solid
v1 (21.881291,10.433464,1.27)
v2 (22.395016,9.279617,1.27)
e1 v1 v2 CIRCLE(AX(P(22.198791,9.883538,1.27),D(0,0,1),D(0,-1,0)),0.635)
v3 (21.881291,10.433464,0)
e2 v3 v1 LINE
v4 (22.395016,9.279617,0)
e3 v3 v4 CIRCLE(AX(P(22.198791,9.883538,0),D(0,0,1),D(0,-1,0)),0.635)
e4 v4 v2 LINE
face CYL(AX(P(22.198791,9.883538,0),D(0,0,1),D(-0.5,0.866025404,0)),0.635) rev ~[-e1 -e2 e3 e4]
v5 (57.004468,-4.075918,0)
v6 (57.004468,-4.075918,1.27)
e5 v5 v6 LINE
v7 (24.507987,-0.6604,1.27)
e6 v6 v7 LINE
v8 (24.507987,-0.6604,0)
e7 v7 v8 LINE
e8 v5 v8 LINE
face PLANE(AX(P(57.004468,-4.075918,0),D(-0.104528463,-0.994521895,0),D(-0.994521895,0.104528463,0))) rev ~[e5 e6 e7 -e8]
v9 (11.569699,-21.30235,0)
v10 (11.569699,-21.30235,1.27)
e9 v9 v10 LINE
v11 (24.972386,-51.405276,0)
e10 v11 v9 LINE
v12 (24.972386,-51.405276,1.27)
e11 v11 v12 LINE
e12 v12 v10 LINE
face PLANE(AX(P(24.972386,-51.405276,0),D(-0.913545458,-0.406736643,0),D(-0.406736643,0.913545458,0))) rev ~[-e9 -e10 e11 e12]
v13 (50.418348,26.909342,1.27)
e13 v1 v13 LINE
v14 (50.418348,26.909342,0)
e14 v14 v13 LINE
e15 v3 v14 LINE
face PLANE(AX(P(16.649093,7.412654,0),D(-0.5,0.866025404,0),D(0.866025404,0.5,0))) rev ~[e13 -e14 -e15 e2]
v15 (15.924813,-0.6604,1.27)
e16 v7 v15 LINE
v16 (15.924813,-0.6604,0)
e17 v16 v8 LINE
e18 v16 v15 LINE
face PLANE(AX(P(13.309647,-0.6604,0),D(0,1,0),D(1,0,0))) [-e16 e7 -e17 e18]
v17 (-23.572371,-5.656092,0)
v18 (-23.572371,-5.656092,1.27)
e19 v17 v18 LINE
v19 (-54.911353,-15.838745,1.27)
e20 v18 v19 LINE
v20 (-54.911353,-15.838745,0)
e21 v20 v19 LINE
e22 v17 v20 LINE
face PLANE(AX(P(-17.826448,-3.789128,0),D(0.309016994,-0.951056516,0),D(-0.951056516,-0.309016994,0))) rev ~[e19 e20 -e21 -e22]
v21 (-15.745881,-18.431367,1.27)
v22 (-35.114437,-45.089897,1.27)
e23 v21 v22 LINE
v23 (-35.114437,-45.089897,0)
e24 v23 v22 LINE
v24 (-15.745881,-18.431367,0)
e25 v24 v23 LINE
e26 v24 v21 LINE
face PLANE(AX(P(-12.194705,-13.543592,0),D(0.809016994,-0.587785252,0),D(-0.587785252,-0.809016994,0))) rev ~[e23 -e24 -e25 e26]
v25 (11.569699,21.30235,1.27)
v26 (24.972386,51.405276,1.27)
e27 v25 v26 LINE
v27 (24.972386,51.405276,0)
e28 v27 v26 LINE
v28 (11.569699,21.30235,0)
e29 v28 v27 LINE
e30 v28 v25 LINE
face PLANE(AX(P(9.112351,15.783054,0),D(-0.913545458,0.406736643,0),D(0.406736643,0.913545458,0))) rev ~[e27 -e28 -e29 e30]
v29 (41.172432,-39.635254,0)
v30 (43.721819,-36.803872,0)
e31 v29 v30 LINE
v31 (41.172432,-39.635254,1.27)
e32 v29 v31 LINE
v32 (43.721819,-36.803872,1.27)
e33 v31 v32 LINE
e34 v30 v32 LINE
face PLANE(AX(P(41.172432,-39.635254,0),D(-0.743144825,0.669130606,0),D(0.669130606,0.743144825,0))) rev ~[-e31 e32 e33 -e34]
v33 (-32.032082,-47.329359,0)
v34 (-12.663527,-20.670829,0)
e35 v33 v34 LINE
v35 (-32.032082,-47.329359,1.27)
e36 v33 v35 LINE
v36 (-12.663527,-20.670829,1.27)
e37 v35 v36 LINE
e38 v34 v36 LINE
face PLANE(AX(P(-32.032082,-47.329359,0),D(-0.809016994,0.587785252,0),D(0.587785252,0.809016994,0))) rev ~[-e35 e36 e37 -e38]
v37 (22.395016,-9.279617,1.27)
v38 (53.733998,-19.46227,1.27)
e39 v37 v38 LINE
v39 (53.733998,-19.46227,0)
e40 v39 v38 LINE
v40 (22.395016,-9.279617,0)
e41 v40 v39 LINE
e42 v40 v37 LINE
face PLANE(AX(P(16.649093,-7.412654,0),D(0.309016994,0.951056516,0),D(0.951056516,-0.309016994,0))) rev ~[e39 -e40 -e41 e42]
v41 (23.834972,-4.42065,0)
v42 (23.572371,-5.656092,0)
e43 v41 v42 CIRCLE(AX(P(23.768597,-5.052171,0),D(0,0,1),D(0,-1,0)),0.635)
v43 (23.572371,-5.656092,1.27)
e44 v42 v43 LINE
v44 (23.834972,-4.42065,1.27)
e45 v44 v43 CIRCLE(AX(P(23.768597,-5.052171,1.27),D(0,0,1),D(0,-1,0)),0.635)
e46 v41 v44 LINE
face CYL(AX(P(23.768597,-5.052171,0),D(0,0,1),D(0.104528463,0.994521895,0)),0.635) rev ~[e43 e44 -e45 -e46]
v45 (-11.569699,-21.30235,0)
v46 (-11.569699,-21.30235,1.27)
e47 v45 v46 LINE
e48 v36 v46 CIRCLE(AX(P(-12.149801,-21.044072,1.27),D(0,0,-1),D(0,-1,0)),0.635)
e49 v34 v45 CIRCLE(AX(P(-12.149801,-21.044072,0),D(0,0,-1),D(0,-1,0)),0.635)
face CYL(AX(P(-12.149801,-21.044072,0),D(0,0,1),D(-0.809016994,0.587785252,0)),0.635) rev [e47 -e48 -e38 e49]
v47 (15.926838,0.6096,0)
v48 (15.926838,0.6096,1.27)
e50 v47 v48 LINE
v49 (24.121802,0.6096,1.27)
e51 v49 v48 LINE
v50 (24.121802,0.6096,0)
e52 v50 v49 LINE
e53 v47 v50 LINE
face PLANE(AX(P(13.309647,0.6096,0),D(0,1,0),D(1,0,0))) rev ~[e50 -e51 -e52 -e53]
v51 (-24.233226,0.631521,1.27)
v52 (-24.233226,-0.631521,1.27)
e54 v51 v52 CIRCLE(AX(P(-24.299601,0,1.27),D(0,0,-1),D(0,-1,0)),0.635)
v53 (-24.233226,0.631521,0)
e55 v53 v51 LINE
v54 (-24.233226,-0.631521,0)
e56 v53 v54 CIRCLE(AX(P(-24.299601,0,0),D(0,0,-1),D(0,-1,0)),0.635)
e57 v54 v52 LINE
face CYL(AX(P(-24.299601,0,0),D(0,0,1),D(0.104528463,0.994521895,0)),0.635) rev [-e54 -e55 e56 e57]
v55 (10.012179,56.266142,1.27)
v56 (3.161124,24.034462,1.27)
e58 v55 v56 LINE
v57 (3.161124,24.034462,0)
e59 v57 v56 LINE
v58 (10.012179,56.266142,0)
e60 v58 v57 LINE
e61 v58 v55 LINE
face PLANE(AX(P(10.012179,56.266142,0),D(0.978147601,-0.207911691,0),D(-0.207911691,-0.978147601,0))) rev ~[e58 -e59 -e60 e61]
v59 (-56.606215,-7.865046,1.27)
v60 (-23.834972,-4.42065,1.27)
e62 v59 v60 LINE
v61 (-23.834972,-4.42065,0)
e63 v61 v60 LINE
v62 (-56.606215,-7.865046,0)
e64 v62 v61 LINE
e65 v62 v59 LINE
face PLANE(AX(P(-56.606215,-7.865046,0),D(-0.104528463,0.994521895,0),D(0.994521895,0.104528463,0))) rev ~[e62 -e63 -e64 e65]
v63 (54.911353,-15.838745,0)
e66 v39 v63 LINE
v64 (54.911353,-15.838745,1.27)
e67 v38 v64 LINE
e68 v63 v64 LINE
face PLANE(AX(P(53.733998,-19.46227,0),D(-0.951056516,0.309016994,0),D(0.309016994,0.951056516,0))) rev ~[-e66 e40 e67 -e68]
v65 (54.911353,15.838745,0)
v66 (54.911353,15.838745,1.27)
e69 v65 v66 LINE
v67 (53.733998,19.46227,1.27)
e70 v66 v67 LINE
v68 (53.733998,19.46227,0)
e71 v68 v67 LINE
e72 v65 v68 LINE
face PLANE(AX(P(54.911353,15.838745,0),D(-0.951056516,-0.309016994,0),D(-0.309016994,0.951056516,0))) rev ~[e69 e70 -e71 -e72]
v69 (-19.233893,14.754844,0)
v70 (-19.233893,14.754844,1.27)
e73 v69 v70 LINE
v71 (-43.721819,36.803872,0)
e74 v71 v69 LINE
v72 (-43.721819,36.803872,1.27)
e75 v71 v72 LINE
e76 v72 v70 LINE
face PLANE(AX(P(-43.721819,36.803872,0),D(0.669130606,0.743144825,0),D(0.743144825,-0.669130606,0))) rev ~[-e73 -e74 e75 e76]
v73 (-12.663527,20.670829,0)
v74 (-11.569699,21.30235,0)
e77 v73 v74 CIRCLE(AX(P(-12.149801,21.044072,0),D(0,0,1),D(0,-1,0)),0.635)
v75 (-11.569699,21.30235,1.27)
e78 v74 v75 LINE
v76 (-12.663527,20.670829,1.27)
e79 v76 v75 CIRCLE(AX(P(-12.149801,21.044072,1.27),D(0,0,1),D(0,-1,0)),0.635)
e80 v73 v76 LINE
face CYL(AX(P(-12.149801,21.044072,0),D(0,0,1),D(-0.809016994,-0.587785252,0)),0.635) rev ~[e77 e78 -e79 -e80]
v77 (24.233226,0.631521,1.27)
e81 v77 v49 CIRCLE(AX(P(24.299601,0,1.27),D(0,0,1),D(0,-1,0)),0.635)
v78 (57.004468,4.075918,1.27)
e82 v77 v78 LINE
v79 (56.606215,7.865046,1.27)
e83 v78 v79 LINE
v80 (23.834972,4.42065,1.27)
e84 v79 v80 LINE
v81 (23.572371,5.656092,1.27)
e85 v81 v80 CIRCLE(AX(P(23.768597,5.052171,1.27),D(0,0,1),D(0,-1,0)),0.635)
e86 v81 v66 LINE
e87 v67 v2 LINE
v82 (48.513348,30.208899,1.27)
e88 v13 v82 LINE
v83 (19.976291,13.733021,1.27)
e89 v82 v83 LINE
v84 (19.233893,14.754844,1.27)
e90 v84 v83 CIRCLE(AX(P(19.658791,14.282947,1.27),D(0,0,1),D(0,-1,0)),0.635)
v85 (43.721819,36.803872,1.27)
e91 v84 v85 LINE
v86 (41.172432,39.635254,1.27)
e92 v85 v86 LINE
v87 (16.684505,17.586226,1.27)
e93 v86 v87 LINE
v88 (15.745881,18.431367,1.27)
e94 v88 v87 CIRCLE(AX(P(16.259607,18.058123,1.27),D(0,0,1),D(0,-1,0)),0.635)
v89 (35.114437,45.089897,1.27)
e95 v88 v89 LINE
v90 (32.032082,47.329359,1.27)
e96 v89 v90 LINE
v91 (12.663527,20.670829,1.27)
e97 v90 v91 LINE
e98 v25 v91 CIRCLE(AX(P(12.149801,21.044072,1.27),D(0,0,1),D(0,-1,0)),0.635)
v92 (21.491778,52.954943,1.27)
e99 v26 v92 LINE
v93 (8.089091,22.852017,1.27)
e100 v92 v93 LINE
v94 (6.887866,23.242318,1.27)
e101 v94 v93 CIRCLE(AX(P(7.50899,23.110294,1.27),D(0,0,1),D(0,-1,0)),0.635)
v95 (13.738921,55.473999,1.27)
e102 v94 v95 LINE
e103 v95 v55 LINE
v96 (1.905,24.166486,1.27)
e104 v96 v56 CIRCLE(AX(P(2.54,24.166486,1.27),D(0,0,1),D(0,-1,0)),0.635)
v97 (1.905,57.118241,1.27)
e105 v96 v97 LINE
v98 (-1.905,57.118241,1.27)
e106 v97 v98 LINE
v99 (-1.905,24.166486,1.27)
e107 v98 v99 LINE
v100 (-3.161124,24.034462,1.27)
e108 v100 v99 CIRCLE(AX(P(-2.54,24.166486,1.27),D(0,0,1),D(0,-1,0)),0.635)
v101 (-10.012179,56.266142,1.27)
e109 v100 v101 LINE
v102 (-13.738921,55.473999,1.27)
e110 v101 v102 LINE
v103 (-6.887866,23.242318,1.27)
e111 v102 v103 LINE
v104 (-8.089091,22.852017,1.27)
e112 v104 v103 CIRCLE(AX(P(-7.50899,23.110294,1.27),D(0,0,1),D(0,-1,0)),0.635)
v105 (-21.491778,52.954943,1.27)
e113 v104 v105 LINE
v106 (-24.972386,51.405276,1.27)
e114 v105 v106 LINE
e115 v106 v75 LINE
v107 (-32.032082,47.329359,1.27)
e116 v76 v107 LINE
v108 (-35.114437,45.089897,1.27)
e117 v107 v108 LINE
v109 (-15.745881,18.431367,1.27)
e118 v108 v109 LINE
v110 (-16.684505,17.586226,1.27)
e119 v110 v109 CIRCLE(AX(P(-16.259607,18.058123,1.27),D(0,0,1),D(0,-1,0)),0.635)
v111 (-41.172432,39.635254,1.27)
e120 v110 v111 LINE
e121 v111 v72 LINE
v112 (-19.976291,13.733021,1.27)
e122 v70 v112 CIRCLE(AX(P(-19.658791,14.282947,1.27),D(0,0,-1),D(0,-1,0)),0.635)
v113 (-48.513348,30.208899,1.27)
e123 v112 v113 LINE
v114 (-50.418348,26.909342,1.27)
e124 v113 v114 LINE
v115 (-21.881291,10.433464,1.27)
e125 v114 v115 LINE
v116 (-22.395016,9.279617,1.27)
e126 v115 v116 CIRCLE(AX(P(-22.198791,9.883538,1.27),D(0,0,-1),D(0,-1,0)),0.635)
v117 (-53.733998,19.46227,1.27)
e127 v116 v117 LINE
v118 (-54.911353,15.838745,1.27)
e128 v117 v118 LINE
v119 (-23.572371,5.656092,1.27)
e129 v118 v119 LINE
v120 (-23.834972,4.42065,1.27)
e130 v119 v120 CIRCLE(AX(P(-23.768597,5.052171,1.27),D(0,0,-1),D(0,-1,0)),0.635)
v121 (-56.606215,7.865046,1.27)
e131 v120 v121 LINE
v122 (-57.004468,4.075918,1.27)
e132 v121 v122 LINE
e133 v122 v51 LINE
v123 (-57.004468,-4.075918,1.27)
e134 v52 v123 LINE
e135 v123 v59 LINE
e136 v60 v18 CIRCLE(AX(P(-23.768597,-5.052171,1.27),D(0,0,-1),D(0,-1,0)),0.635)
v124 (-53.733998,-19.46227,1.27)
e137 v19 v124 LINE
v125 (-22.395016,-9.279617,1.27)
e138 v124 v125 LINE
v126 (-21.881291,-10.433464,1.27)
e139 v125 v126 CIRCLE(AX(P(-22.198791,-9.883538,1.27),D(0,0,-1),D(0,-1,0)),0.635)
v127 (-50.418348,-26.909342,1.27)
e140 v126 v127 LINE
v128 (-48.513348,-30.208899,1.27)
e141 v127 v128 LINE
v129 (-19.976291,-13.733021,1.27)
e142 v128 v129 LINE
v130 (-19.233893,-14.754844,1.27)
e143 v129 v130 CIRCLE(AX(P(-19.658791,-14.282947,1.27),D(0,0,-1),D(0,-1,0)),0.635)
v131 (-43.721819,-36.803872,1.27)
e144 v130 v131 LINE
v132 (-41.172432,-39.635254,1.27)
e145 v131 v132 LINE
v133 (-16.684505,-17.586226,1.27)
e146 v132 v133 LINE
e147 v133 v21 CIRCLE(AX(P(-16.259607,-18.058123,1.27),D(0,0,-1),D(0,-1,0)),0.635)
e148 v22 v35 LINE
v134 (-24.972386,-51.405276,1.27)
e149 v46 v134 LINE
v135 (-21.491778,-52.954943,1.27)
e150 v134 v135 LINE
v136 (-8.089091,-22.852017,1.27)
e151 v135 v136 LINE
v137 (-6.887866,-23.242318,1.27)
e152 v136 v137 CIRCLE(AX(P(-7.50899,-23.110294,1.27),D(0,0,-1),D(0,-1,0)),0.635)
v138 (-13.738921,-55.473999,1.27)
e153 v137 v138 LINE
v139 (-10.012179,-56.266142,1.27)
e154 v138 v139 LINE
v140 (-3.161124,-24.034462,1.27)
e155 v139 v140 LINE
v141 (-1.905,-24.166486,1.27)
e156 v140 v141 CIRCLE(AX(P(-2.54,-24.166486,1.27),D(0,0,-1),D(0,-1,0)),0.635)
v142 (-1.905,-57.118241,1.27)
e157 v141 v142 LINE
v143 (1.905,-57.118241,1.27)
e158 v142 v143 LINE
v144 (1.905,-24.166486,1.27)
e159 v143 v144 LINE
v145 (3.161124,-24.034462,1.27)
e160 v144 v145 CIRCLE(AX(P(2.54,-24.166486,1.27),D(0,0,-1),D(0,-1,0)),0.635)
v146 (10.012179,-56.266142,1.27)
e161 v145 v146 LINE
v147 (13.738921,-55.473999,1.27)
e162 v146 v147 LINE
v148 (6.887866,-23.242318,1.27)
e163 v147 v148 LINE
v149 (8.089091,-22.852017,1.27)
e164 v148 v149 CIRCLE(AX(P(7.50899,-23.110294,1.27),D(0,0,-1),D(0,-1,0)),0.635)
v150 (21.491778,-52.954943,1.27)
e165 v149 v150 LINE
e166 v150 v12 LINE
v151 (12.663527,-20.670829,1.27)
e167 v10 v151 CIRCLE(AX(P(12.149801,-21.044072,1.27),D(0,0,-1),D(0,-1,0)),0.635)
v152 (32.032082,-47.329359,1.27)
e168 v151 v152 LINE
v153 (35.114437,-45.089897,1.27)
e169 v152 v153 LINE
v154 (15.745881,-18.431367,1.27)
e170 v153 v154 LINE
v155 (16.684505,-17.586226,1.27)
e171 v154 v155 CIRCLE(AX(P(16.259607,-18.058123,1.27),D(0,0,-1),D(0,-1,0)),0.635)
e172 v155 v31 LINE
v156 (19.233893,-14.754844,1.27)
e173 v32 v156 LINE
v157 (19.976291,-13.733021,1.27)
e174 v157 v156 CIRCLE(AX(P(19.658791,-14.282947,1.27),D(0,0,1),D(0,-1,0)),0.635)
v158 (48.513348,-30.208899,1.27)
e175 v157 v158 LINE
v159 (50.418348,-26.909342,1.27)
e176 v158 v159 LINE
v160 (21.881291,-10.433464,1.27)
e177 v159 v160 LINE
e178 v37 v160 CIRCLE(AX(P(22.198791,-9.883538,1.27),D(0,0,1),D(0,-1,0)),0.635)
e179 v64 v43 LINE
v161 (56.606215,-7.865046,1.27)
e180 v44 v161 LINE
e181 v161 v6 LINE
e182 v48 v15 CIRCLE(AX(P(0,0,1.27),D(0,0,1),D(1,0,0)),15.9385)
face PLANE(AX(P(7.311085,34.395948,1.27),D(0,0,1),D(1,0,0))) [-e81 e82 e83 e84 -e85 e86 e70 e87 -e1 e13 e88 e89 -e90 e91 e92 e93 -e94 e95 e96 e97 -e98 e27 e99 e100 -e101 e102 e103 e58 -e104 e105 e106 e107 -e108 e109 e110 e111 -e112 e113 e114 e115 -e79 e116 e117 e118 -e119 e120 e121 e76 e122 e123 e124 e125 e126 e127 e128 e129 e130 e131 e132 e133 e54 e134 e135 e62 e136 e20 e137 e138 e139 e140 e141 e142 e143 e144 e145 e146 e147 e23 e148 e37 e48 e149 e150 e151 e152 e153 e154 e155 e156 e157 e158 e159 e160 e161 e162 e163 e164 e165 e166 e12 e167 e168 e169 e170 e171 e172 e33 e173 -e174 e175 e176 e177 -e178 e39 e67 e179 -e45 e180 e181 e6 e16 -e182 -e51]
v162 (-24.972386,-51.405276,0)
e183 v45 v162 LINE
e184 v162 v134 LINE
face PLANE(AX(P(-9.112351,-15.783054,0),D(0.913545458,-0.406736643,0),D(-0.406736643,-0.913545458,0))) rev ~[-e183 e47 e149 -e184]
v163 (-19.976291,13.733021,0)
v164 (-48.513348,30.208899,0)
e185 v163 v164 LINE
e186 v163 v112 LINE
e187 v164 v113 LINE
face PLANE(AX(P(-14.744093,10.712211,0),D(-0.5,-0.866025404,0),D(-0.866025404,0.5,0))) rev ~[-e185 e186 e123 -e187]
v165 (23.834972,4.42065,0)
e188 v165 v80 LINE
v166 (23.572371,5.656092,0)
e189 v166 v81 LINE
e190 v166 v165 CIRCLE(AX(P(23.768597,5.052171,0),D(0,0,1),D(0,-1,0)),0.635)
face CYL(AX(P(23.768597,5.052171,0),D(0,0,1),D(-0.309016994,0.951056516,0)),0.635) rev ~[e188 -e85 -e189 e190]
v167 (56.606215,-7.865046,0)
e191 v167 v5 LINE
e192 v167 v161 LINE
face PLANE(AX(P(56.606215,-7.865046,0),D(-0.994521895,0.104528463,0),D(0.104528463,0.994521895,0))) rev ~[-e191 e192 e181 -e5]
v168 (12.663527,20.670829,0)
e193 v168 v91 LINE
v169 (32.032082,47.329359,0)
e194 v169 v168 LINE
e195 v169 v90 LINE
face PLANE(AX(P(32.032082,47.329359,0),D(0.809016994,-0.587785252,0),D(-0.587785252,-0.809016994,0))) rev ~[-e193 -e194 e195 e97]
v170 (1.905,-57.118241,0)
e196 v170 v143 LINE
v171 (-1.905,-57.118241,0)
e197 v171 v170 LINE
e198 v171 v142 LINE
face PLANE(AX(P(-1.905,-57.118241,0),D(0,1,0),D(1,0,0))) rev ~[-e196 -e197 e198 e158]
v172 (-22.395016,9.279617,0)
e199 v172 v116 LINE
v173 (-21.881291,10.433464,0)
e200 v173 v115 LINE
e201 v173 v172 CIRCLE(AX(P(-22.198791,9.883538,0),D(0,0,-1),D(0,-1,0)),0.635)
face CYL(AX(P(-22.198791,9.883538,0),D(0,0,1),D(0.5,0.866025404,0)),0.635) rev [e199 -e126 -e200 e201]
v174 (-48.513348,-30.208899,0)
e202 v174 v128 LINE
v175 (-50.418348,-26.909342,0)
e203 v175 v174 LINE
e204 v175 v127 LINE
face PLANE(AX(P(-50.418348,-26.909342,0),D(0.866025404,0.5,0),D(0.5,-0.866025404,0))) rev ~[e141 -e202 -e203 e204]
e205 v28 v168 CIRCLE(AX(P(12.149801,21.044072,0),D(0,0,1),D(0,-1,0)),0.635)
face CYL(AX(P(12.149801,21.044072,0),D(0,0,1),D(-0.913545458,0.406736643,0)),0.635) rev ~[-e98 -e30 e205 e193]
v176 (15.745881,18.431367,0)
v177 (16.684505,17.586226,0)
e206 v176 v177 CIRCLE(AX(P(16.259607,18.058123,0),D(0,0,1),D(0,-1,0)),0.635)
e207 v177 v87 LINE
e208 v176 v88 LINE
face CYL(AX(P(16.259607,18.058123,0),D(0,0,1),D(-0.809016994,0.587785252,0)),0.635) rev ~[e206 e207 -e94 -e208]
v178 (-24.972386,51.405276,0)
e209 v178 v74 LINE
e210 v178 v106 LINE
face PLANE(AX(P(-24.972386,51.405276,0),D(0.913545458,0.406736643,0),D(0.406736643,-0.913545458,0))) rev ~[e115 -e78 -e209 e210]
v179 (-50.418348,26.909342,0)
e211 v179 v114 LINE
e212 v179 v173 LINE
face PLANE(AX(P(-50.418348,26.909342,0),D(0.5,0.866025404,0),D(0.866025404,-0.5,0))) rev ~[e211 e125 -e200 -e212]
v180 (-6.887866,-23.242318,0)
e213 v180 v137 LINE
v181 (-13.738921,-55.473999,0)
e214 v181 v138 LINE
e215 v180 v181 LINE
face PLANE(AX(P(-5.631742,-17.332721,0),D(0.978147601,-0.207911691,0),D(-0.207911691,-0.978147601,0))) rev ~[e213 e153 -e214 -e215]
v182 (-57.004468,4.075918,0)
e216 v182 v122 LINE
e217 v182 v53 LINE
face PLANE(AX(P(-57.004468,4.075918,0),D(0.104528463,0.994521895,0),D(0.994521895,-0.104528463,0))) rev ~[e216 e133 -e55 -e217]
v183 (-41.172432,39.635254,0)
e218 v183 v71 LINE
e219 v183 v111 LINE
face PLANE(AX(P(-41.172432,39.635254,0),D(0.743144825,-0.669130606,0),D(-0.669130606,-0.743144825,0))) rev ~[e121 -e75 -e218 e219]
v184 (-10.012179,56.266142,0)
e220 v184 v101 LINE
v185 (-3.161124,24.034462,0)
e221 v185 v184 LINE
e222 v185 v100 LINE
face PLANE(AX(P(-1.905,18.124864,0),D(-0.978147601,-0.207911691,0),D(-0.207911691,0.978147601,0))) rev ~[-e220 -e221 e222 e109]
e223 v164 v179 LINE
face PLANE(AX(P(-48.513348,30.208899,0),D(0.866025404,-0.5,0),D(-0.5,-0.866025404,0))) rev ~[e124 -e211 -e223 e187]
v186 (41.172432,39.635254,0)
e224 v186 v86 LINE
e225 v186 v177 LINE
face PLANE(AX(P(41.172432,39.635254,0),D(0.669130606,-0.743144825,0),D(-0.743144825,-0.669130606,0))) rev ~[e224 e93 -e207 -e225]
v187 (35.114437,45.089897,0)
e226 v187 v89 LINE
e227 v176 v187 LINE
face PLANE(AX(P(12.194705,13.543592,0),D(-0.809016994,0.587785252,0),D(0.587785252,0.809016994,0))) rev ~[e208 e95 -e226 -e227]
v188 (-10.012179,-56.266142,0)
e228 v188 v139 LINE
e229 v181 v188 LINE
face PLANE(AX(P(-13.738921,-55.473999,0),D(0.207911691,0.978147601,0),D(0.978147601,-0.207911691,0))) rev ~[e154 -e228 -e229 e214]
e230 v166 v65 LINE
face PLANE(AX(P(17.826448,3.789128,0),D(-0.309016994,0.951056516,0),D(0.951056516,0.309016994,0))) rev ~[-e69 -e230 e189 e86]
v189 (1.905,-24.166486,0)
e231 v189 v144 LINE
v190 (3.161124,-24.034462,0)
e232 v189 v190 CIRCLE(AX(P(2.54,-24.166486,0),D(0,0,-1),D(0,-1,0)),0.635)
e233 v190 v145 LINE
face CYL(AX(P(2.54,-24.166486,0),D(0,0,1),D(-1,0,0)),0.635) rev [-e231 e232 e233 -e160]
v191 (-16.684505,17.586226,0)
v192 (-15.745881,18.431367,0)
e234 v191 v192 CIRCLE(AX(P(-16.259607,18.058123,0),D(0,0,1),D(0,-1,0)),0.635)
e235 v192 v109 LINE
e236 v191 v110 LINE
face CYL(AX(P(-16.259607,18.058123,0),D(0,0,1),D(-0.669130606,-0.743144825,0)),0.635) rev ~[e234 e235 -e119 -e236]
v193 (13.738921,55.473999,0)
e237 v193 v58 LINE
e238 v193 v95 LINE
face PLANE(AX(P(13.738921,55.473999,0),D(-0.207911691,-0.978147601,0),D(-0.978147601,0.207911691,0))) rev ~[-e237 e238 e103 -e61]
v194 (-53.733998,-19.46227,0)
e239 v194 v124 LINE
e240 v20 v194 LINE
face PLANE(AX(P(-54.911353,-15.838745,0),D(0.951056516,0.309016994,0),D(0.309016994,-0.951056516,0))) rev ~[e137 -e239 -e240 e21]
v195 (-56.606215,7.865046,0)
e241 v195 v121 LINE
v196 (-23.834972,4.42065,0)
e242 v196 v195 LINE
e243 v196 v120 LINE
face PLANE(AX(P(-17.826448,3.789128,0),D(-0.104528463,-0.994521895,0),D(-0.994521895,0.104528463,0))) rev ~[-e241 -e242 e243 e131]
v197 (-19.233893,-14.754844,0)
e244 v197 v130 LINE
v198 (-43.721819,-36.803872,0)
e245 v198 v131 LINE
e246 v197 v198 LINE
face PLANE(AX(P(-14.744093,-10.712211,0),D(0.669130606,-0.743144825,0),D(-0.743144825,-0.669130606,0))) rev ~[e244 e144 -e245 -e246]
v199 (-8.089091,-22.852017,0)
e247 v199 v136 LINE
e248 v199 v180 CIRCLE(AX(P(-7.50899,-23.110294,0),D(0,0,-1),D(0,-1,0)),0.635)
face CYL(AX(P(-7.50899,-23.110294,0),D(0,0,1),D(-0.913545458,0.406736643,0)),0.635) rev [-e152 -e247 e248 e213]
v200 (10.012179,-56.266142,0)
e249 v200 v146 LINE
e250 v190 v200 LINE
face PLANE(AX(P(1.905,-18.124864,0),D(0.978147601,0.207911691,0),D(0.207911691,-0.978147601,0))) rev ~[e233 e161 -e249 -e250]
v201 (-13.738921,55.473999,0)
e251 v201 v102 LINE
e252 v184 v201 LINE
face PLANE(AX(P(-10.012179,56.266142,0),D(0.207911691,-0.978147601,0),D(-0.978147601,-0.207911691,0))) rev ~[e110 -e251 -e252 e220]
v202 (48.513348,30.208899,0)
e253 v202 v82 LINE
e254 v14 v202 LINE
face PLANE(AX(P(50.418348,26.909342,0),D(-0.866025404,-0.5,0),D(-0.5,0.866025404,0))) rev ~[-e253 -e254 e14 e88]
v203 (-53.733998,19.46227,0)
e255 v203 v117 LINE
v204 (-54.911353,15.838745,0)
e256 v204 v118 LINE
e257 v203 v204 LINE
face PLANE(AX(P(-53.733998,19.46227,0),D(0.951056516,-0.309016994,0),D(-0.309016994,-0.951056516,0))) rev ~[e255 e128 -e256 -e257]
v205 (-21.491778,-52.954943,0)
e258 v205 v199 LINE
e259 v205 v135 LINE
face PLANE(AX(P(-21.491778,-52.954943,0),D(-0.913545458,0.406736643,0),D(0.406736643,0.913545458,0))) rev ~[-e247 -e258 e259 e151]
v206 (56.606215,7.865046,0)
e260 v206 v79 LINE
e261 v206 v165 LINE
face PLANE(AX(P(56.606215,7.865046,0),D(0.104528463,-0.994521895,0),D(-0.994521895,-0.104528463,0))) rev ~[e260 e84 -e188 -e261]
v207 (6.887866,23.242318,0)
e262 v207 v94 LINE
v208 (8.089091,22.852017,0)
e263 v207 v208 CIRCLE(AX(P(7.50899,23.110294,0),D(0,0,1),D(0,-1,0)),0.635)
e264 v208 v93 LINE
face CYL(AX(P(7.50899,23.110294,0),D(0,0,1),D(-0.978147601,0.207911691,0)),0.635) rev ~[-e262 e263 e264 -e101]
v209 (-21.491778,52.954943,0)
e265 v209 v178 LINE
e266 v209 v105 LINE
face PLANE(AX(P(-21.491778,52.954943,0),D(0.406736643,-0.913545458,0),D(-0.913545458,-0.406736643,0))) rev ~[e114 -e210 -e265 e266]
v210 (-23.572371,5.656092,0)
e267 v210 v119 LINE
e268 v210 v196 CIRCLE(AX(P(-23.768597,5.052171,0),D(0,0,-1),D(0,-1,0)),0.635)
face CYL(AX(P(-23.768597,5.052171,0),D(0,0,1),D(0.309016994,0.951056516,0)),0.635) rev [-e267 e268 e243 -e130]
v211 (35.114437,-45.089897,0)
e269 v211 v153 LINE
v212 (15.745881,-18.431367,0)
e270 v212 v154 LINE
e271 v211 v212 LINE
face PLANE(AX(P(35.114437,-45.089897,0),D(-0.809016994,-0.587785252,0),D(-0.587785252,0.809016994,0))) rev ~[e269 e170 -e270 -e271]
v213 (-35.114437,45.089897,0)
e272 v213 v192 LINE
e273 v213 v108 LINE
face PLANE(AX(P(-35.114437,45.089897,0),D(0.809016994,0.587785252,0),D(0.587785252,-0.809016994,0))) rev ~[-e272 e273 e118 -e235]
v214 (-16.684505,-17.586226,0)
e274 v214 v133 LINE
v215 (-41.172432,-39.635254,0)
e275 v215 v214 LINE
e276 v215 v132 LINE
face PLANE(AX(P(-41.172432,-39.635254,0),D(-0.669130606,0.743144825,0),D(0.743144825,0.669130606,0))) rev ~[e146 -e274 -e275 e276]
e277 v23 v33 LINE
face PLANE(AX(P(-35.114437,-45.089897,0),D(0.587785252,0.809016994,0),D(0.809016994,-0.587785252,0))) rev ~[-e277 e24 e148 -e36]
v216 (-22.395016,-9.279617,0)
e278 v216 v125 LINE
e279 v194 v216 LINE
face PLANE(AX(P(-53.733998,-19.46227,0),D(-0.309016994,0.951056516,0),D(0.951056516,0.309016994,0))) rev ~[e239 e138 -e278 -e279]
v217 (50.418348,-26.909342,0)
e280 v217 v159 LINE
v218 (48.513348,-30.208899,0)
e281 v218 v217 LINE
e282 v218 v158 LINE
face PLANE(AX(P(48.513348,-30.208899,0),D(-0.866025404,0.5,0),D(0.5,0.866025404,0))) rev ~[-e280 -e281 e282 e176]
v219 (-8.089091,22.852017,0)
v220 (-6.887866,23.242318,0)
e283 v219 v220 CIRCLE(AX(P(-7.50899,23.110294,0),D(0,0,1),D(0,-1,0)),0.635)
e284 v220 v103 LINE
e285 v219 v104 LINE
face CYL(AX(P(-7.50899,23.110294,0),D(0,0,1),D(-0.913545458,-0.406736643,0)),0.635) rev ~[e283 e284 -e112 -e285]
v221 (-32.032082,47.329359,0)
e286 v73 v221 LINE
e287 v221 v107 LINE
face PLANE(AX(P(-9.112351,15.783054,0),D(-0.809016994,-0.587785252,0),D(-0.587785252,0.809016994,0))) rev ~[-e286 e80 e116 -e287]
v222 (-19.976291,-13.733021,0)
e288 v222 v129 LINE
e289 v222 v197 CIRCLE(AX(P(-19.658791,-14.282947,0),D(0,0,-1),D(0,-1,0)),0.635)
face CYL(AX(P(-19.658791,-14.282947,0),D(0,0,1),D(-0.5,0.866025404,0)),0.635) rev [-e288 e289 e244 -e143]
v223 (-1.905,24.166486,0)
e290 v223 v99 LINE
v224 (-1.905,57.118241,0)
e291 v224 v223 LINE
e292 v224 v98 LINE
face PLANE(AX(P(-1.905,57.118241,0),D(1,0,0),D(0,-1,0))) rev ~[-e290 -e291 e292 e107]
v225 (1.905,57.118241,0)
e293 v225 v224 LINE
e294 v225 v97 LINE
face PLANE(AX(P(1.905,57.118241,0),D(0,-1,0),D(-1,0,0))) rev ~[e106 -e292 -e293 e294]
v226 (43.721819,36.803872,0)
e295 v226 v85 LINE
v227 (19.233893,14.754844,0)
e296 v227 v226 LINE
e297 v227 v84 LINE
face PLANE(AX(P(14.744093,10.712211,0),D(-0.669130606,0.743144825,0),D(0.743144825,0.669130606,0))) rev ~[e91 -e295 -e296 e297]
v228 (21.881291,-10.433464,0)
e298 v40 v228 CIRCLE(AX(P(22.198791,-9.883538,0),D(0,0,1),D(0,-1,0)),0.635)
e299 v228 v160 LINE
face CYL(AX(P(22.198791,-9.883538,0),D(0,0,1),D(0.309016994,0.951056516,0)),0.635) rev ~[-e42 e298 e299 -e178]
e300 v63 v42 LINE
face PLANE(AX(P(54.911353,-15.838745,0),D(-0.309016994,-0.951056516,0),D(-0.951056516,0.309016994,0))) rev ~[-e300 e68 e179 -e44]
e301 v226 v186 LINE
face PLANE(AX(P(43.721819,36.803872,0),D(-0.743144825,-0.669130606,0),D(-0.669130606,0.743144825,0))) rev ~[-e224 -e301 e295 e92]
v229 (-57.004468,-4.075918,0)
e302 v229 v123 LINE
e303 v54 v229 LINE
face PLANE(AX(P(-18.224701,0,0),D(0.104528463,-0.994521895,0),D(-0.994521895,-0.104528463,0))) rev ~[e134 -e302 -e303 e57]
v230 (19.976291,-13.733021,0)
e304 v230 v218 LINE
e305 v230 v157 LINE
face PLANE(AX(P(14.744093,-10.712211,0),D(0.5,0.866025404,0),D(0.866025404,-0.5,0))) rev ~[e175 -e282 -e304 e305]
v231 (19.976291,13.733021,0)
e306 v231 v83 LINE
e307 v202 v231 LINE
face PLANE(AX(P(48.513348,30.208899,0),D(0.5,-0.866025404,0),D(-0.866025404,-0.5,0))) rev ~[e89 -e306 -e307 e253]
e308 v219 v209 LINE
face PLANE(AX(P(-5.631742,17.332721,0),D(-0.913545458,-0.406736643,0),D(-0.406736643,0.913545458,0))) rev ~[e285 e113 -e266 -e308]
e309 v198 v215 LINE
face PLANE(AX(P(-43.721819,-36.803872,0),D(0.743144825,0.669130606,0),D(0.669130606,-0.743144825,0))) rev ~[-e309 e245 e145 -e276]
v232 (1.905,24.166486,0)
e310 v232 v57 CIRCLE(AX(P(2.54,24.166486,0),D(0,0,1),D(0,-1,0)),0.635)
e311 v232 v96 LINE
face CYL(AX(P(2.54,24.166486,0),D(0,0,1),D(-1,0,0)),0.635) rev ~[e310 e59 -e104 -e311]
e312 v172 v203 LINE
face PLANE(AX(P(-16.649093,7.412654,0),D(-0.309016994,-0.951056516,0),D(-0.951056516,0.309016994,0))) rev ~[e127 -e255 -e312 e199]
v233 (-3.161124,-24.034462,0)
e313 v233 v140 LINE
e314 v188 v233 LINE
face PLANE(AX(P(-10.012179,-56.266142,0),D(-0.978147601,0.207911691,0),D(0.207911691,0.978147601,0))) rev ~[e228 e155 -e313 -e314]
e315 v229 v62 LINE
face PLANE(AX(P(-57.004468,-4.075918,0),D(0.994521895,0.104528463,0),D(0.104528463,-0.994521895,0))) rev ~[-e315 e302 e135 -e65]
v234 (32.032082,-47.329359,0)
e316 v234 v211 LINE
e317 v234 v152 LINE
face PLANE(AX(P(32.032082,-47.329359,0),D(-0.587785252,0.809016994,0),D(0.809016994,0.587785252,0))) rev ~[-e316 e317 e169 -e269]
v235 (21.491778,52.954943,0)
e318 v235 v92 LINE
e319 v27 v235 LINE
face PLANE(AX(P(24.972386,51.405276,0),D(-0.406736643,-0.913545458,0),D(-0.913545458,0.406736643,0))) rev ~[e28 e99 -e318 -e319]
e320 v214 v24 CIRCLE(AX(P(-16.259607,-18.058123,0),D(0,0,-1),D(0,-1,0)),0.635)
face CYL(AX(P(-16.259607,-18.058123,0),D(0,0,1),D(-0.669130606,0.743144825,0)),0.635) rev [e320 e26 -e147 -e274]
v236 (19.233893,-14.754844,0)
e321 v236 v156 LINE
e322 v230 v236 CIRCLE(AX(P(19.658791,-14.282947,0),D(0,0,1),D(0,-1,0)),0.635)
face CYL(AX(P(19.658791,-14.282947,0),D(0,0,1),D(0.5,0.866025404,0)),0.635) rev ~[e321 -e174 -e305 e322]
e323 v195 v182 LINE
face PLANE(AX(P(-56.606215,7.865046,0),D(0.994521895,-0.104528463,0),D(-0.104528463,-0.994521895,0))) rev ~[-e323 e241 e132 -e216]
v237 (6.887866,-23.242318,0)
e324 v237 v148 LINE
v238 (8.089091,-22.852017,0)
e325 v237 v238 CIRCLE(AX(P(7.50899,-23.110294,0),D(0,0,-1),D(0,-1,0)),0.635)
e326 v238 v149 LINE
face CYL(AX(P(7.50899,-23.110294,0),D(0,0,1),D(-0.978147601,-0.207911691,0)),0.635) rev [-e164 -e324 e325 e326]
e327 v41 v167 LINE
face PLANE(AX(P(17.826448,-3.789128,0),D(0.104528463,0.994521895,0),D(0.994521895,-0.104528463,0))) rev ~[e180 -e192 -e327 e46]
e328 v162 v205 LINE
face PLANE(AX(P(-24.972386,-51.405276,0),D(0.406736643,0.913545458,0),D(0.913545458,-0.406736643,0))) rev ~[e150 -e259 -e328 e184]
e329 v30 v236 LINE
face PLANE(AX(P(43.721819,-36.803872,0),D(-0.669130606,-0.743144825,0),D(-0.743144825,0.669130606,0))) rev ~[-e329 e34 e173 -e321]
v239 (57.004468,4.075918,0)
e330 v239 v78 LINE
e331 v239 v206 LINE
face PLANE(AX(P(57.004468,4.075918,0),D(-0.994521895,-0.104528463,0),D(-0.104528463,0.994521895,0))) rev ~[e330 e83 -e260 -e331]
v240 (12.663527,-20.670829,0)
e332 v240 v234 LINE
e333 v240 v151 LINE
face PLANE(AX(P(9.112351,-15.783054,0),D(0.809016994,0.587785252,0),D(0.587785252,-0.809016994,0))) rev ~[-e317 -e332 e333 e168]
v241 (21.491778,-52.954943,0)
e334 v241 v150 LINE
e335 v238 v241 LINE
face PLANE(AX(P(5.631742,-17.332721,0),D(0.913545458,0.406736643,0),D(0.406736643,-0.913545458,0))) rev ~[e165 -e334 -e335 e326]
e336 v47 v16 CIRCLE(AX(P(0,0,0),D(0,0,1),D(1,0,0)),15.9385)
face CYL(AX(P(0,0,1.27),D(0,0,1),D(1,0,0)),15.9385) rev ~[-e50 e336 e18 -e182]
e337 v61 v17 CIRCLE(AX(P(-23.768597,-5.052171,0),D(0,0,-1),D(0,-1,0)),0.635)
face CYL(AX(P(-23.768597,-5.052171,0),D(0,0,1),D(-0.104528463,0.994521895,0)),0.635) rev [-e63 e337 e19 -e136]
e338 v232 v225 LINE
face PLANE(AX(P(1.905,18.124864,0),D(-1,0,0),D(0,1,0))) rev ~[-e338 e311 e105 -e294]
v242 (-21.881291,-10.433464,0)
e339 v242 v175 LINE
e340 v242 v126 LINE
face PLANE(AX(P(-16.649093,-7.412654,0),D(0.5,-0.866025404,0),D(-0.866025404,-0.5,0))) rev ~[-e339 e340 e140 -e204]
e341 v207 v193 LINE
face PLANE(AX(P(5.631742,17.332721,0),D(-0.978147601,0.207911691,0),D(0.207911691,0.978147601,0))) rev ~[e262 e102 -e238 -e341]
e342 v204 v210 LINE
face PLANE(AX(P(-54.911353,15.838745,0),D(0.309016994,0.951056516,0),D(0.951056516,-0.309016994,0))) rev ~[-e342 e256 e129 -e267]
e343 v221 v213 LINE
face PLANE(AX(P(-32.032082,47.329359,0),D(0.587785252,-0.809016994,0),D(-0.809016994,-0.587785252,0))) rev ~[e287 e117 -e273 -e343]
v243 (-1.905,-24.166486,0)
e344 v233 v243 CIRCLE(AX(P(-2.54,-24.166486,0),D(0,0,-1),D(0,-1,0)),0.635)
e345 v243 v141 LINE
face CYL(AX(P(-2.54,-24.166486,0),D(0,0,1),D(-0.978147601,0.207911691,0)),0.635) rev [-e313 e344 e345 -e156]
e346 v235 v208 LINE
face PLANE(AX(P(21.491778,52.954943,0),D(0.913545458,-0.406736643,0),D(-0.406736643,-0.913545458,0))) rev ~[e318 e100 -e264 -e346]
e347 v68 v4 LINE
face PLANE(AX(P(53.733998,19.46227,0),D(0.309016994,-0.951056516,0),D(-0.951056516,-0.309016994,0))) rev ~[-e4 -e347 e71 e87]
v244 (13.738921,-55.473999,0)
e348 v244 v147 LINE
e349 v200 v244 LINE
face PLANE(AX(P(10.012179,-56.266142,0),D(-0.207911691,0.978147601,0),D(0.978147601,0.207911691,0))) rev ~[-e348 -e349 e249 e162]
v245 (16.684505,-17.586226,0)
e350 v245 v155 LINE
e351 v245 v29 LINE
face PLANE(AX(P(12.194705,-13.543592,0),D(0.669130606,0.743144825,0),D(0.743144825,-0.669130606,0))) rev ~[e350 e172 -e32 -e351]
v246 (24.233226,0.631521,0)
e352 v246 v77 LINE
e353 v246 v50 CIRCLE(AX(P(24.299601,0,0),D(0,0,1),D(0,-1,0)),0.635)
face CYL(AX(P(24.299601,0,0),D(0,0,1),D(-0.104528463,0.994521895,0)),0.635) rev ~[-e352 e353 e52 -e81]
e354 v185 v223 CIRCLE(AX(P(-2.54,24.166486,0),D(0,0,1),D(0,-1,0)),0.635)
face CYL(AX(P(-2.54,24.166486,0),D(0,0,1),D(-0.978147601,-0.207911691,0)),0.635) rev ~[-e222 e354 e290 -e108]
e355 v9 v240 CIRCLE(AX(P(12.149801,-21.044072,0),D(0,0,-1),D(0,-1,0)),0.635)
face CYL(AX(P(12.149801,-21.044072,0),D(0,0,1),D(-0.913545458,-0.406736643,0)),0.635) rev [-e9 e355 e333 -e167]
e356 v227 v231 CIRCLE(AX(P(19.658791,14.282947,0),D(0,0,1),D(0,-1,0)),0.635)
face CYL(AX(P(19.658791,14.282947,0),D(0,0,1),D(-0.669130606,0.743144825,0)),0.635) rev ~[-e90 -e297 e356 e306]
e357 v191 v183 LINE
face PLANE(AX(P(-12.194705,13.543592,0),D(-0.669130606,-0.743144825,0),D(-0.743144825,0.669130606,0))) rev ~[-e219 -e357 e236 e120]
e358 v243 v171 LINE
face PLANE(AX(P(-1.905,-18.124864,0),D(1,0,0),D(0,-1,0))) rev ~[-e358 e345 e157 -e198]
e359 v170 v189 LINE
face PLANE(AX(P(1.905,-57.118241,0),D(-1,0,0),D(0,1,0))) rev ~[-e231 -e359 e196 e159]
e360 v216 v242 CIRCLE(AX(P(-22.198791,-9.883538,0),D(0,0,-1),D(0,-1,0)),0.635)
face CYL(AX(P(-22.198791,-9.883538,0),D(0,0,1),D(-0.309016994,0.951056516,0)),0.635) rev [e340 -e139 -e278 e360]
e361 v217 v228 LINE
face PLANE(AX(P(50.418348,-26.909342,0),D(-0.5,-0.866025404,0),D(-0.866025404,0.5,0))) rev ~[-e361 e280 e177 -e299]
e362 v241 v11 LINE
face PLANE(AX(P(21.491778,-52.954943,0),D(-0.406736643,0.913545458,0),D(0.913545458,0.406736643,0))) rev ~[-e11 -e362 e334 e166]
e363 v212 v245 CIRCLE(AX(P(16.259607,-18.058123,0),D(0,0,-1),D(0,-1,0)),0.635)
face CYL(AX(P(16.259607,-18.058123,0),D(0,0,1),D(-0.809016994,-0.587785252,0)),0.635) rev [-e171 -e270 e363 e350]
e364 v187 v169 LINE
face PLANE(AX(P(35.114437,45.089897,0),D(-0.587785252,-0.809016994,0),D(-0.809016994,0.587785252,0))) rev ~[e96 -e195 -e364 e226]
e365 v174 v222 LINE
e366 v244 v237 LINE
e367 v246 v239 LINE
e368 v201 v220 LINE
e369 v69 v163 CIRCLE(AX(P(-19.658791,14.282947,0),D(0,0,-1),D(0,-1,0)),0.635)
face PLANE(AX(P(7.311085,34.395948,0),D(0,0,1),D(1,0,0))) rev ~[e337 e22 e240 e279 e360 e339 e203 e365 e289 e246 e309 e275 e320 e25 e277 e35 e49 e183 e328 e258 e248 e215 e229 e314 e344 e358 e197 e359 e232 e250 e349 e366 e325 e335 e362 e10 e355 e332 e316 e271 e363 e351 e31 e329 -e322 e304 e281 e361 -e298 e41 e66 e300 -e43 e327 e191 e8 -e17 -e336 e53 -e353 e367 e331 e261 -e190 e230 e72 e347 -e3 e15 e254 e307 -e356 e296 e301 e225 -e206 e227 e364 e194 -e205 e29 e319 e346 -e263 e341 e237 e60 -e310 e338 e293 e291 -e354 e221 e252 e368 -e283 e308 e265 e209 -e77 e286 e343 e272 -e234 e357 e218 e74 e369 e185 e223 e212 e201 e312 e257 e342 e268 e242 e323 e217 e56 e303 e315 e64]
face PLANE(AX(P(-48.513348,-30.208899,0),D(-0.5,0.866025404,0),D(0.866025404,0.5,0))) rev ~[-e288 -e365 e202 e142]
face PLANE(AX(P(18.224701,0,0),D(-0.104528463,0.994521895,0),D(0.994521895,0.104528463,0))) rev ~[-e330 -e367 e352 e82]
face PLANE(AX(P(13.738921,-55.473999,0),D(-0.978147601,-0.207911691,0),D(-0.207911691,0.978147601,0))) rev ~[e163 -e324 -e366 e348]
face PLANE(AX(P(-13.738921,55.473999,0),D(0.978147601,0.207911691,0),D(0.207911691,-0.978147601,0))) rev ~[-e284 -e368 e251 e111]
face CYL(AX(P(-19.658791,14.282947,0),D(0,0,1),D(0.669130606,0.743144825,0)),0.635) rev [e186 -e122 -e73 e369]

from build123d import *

# Parameters (mm, degrees)
F1_DEPTH = 1.27
F2_R     = 15.9385
F3_DEPTH = 25.4
F4_R     = 0.635
F5_R     = 0.635
F6_R     = 0.635
F7_W     = 41.0254188918
F7_H     = 1.27
F8_DEPTH = 25.4


with BuildPart() as f1:
    # F0 (on Top) → F1 (new body)
    with BuildSketch(Plane.XY):
        Polygon((1.905, 18.1248642853), (1.905, 13.1982271537), (1.3871895718, 13.1982271537), (4.1009418748, 12.6214012949), (3.6278985102, 12.8320137702), (5.6317423588, 17.3327207433), (13.7389212788, 55.4739987931), (10.01217892, 56.2661423351), align=None)
        Polygon((1.3871895718, 13.1982271537), (1.905, 13.1982271537), (1.905, 18.1248642853), (0.8806945439, 13.3058859953), align=None)
        Polygon((-1.3871895718, 13.1982271537), (1.3871895718, 13.1982271537), (0.8806945439, 13.3058859953), (1.905, 18.1248642853), (1.905, 57.1182411757), (-1.905, 57.1182411757), (-1.905, 18.1248642853), (-0.8806945439, 13.3058859953), align=None)
        Polygon((-4.1009418748, 12.6214012949), (-1.3871895718, 13.1982271537), (-1.905, 13.1982271537), (-1.905, 18.1248642853), (-10.01217892, 56.2661423351), (-13.7389212788, 55.4739987931), (-5.6317423588, 17.3327207433), (-3.6278985102, 12.8320137702), align=None)
        Polygon((-1.905, 13.1982271537), (-1.3871895718, 13.1982271537), (-0.8806945439, 13.3058859953), (-1.905, 18.1248642853), align=None)
        Polygon((4.6074369027, 12.5137424533), (4.1009418748, 12.6214012949), (6.6354633393, 11.4929596354), (6.2165459031, 11.7973209686), (9.1123505524, 15.7830541332), (24.972385771, 51.4052764695), (21.4917775774, 52.9549430796), (5.6317423588, 17.3327207433), align=None)
        Polygon((3.6278985102, 12.8320137702), (4.1009418748, 12.6214012949), (4.6074369027, 12.5137424533), (5.6317423588, 17.3327207433), align=None)
        Polygon((-6.6354633393, 11.4929596354), (-4.1009418748, 12.6214012949), (-4.6074369027, 12.5137424533), (-5.6317423588, 17.3327207433), (-21.4917775774, 52.9549430796), (-24.972385771, 51.4052764695), (-9.1123505524, 15.7830541332), (-6.2165459031, 11.7973209686), align=None)
        Polygon((-4.6074369027, 12.5137424533), (-4.1009418748, 12.6214012949), (-3.6278985102, 12.8320137702), (-5.6317423588, 17.3327207433), align=None)
        Polygon((7.1085067038, 11.2823471601), (6.6354633393, 11.4929596354), (8.8799832154, 9.8622204905), (8.5335004096, 10.2470286307), (12.194705301, 13.5435923219), (35.1144371742, 45.0898968943), (32.0320824256, 47.3293587055), (9.1123505524, 15.7830541332), align=None)
        Polygon((6.2165459031, 11.7973209686), (6.6354633393, 11.4929596354), (7.1085067038, 11.2823471601), (9.1123505524, 15.7830541332), align=None)
        Polygon((-8.8799832154, 9.8622204905), (-6.6354633393, 11.4929596354), (-7.1085067038, 11.2823471601), (-9.1123505524, 15.7830541332), (-32.0320824256, 47.3293587055), (-35.1144371742, 45.0898968943), (-12.194705301, 13.5435923219), (-8.5335004096, 10.2470286307), align=None)
        Polygon((-7.1085067038, 11.2823471601), (-6.6354633393, 11.4929596354), (-6.2165459031, 11.7973209686), (-9.1123505524, 15.7830541332), align=None)
        Polygon((9.2989006516, 9.5578591573), (8.8799832154, 9.8622204905), (10.7364052141, 7.8004549859), (10.4775, 8.248891971), (14.7440929112, 10.7122105369), (43.7218191752, 36.8038724595), (41.1724315649, 39.6352542446), (12.194705301, 13.5435923219), align=None)
        Polygon((8.5335004096, 10.2470286307), (8.8799832154, 9.8622204905), (9.2989006516, 9.5578591573), (12.194705301, 13.5435923219), align=None)
        Polygon((-10.7364052141, 7.8004549859), (-8.8799832154, 9.8622204905), (-9.2989006516, 9.5578591573), (-12.194705301, 13.5435923219), (-41.1724315649, 39.6352542446), (-43.7218191752, 36.8038724595), (-14.7440929112, 10.7122105369), (-10.4775, 8.248891971), align=None)
        Polygon((-9.2989006516, 9.5578591573), (-8.8799832154, 9.8622204905), (-8.5335004096, 10.2470286307), (-12.194705301, 13.5435923219), align=None)
        Polygon((11.0828880198, 7.4156468457), (10.7364052141, 7.8004549859), (12.1235947859, 5.3977721678), (11.9635825638, 5.8902391496), (16.6490929112, 7.4126537484), (50.4183478776, 26.9093421936), (48.5133478776, 30.208898982), (14.7440929112, 10.7122105369), align=None)
        Polygon((10.4775, 8.248891971), (10.7364052141, 7.8004549859), (11.0828880198, 7.4156468457), (14.7440929112, 10.7122105369), align=None)
        Polygon((-12.1235947859, 5.3977721678), (-10.7364052141, 7.8004549859), (-11.0828880198, 7.4156468457), (-14.7440929112, 10.7122105369), (-48.5133478776, 30.208898982), (-50.4183478776, 26.9093421936), (-16.6490929112, 7.4126537484), (-11.9635825638, 5.8902391496), align=None)
        Polygon((-11.0828880198, 7.4156468457), (-10.7364052141, 7.8004549859), (-10.4775, 8.248891971), (-14.7440929112, 10.7122105369), align=None)
        Polygon((12.3825, 4.9493351826), (12.1235947859, 5.3977721678), (12.9809250902, 2.7591808045), (12.9267991618, 3.2741546129), (17.8264476598, 3.7891284214), (54.9113528437, 15.8387445485), (53.7339980951, 19.4622698756), (16.6490929112, 7.4126537484), align=None)
        Polygon((11.9635825638, 5.8902391496), (12.1235947859, 5.3977721678), (12.3825, 4.9493351826), (16.6490929112, 7.4126537484), align=None)
        Polygon((-12.9809250902, 2.7591808045), (-12.1235947859, 5.3977721678), (-12.3825, 4.9493351826), (-16.6490929112, 7.4126537484), (-53.7339980951, 19.4622698756), (-54.9113528437, 15.8387445485), (-17.8264476598, 3.7891284214), (-12.9267991618, 3.2741546129), align=None)
        Polygon((-12.3825, 4.9493351826), (-12.1235947859, 5.3977721678), (-11.9635825638, 5.8902391496), (-16.6490929112, 7.4126537484), align=None)
        Polygon((13.1409373123, 2.2667138226), (12.9809250902, 2.7591808045), (13.2709266786, 0), (13.3250526069, 0.5149738084), (18.2247011048, 0), (57.0044681966, 4.075917764), (56.6062147516, 7.8650461853), (17.8264476598, 3.7891284214), align=None)
        Polygon((12.9267991618, 3.2741546129), (12.9809250902, 2.7591808045), (13.1409373123, 2.2667138226), (17.8264476598, 3.7891284214), align=None)
        Polygon((-13.2709266786, 0), (-12.9809250902, 2.7591808045), (-13.1409373123, 2.2667138226), (-17.8264476598, 3.7891284214), (-56.6062147516, 7.8650461853), (-57.0044681966, 4.075917764), (-18.2247011048, 0), (-13.3250526069, 0.5149738084), align=None)
        Polygon((-13.1409373123, 2.2667138226), (-12.9809250902, 2.7591808045), (-12.9267991618, 3.2741546129), (-17.8264476598, 3.7891284214), align=None)
        Polygon((13.3250526069, -0.5149738084), (13.2709266786, 0), (12.9809250902, -2.7591808045), (13.1409373123, -2.2667138226), (17.8264476598, -3.7891284214), (56.6062147516, -7.8650461853), (57.0044681966, -4.075917764), (18.2247011048, 0), align=None)
        Polygon((13.3250526069, 0.5149738084), (13.2709266786, 0), (13.3250526069, -0.5149738084), (18.2247011048, 0), align=None)
        Polygon((-12.9809250902, -2.7591808045), (-13.2709266786, 0), (-13.3250526069, -0.5149738084), (-18.2247011048, 0), (-57.0044681966, -4.075917764), (-56.6062147516, -7.8650461853), (-17.8264476598, -3.7891284214), (-13.1409373123, -2.2667138226), align=None)
        Polygon((-13.3250526069, -0.5149738084), (-13.2709266786, 0), (-13.3250526069, 0.5149738084), (-18.2247011048, 0), align=None)
        Polygon((12.9267991618, -3.2741546129), (12.9809250902, -2.7591808045), (12.1235947859, -5.3977721678), (12.3825, -4.9493351826), (16.6490929112, -7.4126537484), (53.7339980951, -19.4622698756), (54.9113528437, -15.8387445485), (17.8264476598, -3.7891284214), align=None)
        Polygon((13.1409373123, -2.2667138226), (12.9809250902, -2.7591808045), (12.9267991618, -3.2741546129), (17.8264476598, -3.7891284214), align=None)
        Polygon((-12.1235947859, -5.3977721678), (-12.9809250902, -2.7591808045), (-12.9267991618, -3.2741546129), (-17.8264476598, -3.7891284214), (-54.9113528437, -15.8387445485), (-53.7339980951, -19.4622698756), (-16.6490929112, -7.4126537484), (-12.3825, -4.9493351826), align=None)
        Polygon((-12.9267991618, -3.2741546129), (-12.9809250902, -2.7591808045), (-13.1409373123, -2.2667138226), (-17.8264476598, -3.7891284214), align=None)
        Polygon((11.9635825638, -5.8902391496), (12.1235947859, -5.3977721678), (10.7364052141, -7.8004549859), (11.0828880198, -7.4156468457), (14.7440929112, -10.7122105369), (48.5133478776, -30.208898982), (50.4183478776, -26.9093421936), (16.6490929112, -7.4126537484), align=None)
        Polygon((12.3825, -4.9493351826), (12.1235947859, -5.3977721678), (11.9635825638, -5.8902391496), (16.6490929112, -7.4126537484), align=None)
        Polygon((-10.7364052141, -7.8004549859), (-12.1235947859, -5.3977721678), (-11.9635825638, -5.8902391496), (-16.6490929112, -7.4126537484), (-50.4183478776, -26.9093421936), (-48.5133478776, -30.208898982), (-14.7440929112, -10.7122105369), (-11.0828880198, -7.4156468457), align=None)
        Polygon((-11.9635825638, -5.8902391496), (-12.1235947859, -5.3977721678), (-12.3825, -4.9493351826), (-16.6490929112, -7.4126537484), align=None)
        Polygon((10.4775, -8.248891971), (10.7364052141, -7.8004549859), (8.8799832154, -9.8622204905), (9.2989006516, -9.5578591573), (12.194705301, -13.5435923219), (41.1724315649, -39.6352542446), (43.7218191752, -36.8038724595), (14.7440929112, -10.7122105369), align=None)
        Polygon((11.0828880198, -7.4156468457), (10.7364052141, -7.8004549859), (10.4775, -8.248891971), (14.7440929112, -10.7122105369), align=None)
        Polygon((-8.8799832154, -9.8622204905), (-10.7364052141, -7.8004549859), (-10.4775, -8.248891971), (-14.7440929112, -10.7122105369), (-43.7218191752, -36.8038724595), (-41.1724315649, -39.6352542446), (-12.194705301, -13.5435923219), (-9.2989006516, -9.5578591573), align=None)
        Polygon((-10.4775, -8.248891971), (-10.7364052141, -7.8004549859), (-11.0828880198, -7.4156468457), (-14.7440929112, -10.7122105369), align=None)
        Polygon((8.5335004096, -10.2470286307), (8.8799832154, -9.8622204905), (6.6354633393, -11.4929596354), (7.1085067038, -11.2823471601), (9.1123505524, -15.7830541332), (32.0320824256, -47.3293587055), (35.1144371742, -45.0898968943), (12.194705301, -13.5435923219), align=None)
        Polygon((9.2989006516, -9.5578591573), (8.8799832154, -9.8622204905), (8.5335004096, -10.2470286307), (12.194705301, -13.5435923219), align=None)
        Polygon((-6.6354633393, -11.4929596354), (-8.8799832154, -9.8622204905), (-8.5335004096, -10.2470286307), (-12.194705301, -13.5435923219), (-35.1144371742, -45.0898968943), (-32.0320824256, -47.3293587055), (-9.1123505524, -15.7830541332), (-7.1085067038, -11.2823471601), align=None)
        Polygon((-8.5335004096, -10.2470286307), (-8.8799832154, -9.8622204905), (-9.2989006516, -9.5578591573), (-12.194705301, -13.5435923219), align=None)
        Polygon((6.2165459031, -11.7973209686), (6.6354633393, -11.4929596354), (4.1009418748, -12.6214012949), (4.6074369027, -12.5137424533), (5.6317423588, -17.3327207433), (21.4917775774, -52.9549430796), (24.972385771, -51.4052764695), (9.1123505524, -15.7830541332), align=None)
        Polygon((7.1085067038, -11.2823471601), (6.6354633393, -11.4929596354), (6.2165459031, -11.7973209686), (9.1123505524, -15.7830541332), align=None)
        Polygon((-4.1009418748, -12.6214012949), (-6.6354633393, -11.4929596354), (-6.2165459031, -11.7973209686), (-9.1123505524, -15.7830541332), (-24.972385771, -51.4052764695), (-21.4917775774, -52.9549430796), (-5.6317423588, -17.3327207433), (-4.6074369027, -12.5137424533), align=None)
        Polygon((-6.2165459031, -11.7973209686), (-6.6354633393, -11.4929596354), (-7.1085067038, -11.2823471601), (-9.1123505524, -15.7830541332), align=None)
        Polygon((3.6278985102, -12.8320137702), (4.1009418748, -12.6214012949), (1.3871895718, -13.1982271537), (1.905, -13.1982271537), (1.905, -18.1248642853), (10.01217892, -56.2661423351), (13.7389212788, -55.4739987931), (5.6317423588, -17.3327207433), align=None)
        Polygon((4.6074369027, -12.5137424533), (4.1009418748, -12.6214012949), (3.6278985102, -12.8320137702), (5.6317423588, -17.3327207433), align=None)
        Polygon((-1.3871895718, -13.1982271537), (-4.1009418748, -12.6214012949), (-3.6278985102, -12.8320137702), (-5.6317423588, -17.3327207433), (-13.7389212788, -55.4739987931), (-10.01217892, -56.2661423351), (-1.905, -18.1248642853), (-1.905, -13.1982271537), align=None)
        Polygon((-3.6278985102, -12.8320137702), (-4.1009418748, -12.6214012949), (-4.6074369027, -12.5137424533), (-5.6317423588, -17.3327207433), align=None)
        Polygon((0.8806945439, -13.3058859953), (1.3871895718, -13.1982271537), (-1.3871895718, -13.1982271537), (-0.8806945439, -13.3058859953), (-1.905, -18.1248642853), (-1.905, -57.1182411757), (1.905, -57.1182411757), (1.905, -18.1248642853), align=None)
        Polygon((1.905, -13.1982271537), (1.3871895718, -13.1982271537), (0.8806945439, -13.3058859953), (1.905, -18.1248642853), align=None)
        Polygon((-0.8806945439, -13.3058859953), (-1.3871895718, -13.1982271537), (-1.905, -13.1982271537), (-1.905, -18.1248642853), align=None)
    extrude(amount=F1_DEPTH)

    # F2 (on face) → F3 (cut)
    with BuildSketch(Plane.XY.offset(1.27)):
        Circle(F2_R)
    extrude(amount=-F3_DEPTH, mode=Mode.SUBTRACT)

    # F4
    f4_edges = [f1.edges().sort_by_distance(p)[0] for p in [
        (-12.194705, 13.543592, 0.635),
    ]]
    fillet(f4_edges, radius=F4_R)

    # F5
    f5_edges = [f1.edges().sort_by_distance(p)[0] for p in [
        (-9.112351, 15.783054, 0.635),
        (-1.905, 18.124864, 0.635),
        (1.905, 18.124864, 0.635),
        (5.631742, 17.332721, 0.635),
        (9.112351, 15.783054, 0.635),
        (12.194705, 13.543592, 0.635),
        (14.744093, 10.712211, 0.635),
        (16.649093, 7.412654, 0.635),
        (17.826448, 3.789128, 0.635),
        (18.224701, 0, 0.635),
        (17.826448, -3.789128, 0.635),
        (16.649093, -7.412654, 0.635),
        (14.744093, -10.712211, 0.635),
        (12.194705, -13.543592, 0.635),
        (9.112351, -15.783054, 0.635),
        (5.631742, -17.332721, 0.635),
        (1.905, -18.124864, 0.635),
        (-1.905, -18.124864, 0.635),
        (-5.631742, -17.332721, 0.635),
        (-9.112351, -15.783054, 0.635),
        (-12.194705, -13.543592, 0.635),
        (-14.744093, -10.712211, 0.635),
        (-16.649093, -7.412654, 0.635),
        (-17.826448, -3.789128, 0.635),
        (-18.224701, 0, 0.635),
        (-17.826448, 3.789128, 0.635),
        (-16.649093, 7.412654, 0.635),
        (-14.744093, 10.712211, 0.635),
    ]]
    fillet(f5_edges, radius=F5_R)

    # F6
    f6_edges = [f1.edges().sort_by_distance(p)[0] for p in [
        (-5.631742, 17.332721, 0.635),
    ]]
    fillet(f6_edges, radius=F6_R)

    # F7 (on face) → F8 (cut)
    with BuildSketch(Plane(origin=(0, 0, 0), x_dir=(1, 0, 0), z_dir=(0, 0, -1))):
        with Locations((33.822356775, 0.0253999566)):
            Rectangle(F7_W, F7_H)
    extrude(amount=-F8_DEPTH, mode=Mode.SUBTRACT)


solid = f1.part
